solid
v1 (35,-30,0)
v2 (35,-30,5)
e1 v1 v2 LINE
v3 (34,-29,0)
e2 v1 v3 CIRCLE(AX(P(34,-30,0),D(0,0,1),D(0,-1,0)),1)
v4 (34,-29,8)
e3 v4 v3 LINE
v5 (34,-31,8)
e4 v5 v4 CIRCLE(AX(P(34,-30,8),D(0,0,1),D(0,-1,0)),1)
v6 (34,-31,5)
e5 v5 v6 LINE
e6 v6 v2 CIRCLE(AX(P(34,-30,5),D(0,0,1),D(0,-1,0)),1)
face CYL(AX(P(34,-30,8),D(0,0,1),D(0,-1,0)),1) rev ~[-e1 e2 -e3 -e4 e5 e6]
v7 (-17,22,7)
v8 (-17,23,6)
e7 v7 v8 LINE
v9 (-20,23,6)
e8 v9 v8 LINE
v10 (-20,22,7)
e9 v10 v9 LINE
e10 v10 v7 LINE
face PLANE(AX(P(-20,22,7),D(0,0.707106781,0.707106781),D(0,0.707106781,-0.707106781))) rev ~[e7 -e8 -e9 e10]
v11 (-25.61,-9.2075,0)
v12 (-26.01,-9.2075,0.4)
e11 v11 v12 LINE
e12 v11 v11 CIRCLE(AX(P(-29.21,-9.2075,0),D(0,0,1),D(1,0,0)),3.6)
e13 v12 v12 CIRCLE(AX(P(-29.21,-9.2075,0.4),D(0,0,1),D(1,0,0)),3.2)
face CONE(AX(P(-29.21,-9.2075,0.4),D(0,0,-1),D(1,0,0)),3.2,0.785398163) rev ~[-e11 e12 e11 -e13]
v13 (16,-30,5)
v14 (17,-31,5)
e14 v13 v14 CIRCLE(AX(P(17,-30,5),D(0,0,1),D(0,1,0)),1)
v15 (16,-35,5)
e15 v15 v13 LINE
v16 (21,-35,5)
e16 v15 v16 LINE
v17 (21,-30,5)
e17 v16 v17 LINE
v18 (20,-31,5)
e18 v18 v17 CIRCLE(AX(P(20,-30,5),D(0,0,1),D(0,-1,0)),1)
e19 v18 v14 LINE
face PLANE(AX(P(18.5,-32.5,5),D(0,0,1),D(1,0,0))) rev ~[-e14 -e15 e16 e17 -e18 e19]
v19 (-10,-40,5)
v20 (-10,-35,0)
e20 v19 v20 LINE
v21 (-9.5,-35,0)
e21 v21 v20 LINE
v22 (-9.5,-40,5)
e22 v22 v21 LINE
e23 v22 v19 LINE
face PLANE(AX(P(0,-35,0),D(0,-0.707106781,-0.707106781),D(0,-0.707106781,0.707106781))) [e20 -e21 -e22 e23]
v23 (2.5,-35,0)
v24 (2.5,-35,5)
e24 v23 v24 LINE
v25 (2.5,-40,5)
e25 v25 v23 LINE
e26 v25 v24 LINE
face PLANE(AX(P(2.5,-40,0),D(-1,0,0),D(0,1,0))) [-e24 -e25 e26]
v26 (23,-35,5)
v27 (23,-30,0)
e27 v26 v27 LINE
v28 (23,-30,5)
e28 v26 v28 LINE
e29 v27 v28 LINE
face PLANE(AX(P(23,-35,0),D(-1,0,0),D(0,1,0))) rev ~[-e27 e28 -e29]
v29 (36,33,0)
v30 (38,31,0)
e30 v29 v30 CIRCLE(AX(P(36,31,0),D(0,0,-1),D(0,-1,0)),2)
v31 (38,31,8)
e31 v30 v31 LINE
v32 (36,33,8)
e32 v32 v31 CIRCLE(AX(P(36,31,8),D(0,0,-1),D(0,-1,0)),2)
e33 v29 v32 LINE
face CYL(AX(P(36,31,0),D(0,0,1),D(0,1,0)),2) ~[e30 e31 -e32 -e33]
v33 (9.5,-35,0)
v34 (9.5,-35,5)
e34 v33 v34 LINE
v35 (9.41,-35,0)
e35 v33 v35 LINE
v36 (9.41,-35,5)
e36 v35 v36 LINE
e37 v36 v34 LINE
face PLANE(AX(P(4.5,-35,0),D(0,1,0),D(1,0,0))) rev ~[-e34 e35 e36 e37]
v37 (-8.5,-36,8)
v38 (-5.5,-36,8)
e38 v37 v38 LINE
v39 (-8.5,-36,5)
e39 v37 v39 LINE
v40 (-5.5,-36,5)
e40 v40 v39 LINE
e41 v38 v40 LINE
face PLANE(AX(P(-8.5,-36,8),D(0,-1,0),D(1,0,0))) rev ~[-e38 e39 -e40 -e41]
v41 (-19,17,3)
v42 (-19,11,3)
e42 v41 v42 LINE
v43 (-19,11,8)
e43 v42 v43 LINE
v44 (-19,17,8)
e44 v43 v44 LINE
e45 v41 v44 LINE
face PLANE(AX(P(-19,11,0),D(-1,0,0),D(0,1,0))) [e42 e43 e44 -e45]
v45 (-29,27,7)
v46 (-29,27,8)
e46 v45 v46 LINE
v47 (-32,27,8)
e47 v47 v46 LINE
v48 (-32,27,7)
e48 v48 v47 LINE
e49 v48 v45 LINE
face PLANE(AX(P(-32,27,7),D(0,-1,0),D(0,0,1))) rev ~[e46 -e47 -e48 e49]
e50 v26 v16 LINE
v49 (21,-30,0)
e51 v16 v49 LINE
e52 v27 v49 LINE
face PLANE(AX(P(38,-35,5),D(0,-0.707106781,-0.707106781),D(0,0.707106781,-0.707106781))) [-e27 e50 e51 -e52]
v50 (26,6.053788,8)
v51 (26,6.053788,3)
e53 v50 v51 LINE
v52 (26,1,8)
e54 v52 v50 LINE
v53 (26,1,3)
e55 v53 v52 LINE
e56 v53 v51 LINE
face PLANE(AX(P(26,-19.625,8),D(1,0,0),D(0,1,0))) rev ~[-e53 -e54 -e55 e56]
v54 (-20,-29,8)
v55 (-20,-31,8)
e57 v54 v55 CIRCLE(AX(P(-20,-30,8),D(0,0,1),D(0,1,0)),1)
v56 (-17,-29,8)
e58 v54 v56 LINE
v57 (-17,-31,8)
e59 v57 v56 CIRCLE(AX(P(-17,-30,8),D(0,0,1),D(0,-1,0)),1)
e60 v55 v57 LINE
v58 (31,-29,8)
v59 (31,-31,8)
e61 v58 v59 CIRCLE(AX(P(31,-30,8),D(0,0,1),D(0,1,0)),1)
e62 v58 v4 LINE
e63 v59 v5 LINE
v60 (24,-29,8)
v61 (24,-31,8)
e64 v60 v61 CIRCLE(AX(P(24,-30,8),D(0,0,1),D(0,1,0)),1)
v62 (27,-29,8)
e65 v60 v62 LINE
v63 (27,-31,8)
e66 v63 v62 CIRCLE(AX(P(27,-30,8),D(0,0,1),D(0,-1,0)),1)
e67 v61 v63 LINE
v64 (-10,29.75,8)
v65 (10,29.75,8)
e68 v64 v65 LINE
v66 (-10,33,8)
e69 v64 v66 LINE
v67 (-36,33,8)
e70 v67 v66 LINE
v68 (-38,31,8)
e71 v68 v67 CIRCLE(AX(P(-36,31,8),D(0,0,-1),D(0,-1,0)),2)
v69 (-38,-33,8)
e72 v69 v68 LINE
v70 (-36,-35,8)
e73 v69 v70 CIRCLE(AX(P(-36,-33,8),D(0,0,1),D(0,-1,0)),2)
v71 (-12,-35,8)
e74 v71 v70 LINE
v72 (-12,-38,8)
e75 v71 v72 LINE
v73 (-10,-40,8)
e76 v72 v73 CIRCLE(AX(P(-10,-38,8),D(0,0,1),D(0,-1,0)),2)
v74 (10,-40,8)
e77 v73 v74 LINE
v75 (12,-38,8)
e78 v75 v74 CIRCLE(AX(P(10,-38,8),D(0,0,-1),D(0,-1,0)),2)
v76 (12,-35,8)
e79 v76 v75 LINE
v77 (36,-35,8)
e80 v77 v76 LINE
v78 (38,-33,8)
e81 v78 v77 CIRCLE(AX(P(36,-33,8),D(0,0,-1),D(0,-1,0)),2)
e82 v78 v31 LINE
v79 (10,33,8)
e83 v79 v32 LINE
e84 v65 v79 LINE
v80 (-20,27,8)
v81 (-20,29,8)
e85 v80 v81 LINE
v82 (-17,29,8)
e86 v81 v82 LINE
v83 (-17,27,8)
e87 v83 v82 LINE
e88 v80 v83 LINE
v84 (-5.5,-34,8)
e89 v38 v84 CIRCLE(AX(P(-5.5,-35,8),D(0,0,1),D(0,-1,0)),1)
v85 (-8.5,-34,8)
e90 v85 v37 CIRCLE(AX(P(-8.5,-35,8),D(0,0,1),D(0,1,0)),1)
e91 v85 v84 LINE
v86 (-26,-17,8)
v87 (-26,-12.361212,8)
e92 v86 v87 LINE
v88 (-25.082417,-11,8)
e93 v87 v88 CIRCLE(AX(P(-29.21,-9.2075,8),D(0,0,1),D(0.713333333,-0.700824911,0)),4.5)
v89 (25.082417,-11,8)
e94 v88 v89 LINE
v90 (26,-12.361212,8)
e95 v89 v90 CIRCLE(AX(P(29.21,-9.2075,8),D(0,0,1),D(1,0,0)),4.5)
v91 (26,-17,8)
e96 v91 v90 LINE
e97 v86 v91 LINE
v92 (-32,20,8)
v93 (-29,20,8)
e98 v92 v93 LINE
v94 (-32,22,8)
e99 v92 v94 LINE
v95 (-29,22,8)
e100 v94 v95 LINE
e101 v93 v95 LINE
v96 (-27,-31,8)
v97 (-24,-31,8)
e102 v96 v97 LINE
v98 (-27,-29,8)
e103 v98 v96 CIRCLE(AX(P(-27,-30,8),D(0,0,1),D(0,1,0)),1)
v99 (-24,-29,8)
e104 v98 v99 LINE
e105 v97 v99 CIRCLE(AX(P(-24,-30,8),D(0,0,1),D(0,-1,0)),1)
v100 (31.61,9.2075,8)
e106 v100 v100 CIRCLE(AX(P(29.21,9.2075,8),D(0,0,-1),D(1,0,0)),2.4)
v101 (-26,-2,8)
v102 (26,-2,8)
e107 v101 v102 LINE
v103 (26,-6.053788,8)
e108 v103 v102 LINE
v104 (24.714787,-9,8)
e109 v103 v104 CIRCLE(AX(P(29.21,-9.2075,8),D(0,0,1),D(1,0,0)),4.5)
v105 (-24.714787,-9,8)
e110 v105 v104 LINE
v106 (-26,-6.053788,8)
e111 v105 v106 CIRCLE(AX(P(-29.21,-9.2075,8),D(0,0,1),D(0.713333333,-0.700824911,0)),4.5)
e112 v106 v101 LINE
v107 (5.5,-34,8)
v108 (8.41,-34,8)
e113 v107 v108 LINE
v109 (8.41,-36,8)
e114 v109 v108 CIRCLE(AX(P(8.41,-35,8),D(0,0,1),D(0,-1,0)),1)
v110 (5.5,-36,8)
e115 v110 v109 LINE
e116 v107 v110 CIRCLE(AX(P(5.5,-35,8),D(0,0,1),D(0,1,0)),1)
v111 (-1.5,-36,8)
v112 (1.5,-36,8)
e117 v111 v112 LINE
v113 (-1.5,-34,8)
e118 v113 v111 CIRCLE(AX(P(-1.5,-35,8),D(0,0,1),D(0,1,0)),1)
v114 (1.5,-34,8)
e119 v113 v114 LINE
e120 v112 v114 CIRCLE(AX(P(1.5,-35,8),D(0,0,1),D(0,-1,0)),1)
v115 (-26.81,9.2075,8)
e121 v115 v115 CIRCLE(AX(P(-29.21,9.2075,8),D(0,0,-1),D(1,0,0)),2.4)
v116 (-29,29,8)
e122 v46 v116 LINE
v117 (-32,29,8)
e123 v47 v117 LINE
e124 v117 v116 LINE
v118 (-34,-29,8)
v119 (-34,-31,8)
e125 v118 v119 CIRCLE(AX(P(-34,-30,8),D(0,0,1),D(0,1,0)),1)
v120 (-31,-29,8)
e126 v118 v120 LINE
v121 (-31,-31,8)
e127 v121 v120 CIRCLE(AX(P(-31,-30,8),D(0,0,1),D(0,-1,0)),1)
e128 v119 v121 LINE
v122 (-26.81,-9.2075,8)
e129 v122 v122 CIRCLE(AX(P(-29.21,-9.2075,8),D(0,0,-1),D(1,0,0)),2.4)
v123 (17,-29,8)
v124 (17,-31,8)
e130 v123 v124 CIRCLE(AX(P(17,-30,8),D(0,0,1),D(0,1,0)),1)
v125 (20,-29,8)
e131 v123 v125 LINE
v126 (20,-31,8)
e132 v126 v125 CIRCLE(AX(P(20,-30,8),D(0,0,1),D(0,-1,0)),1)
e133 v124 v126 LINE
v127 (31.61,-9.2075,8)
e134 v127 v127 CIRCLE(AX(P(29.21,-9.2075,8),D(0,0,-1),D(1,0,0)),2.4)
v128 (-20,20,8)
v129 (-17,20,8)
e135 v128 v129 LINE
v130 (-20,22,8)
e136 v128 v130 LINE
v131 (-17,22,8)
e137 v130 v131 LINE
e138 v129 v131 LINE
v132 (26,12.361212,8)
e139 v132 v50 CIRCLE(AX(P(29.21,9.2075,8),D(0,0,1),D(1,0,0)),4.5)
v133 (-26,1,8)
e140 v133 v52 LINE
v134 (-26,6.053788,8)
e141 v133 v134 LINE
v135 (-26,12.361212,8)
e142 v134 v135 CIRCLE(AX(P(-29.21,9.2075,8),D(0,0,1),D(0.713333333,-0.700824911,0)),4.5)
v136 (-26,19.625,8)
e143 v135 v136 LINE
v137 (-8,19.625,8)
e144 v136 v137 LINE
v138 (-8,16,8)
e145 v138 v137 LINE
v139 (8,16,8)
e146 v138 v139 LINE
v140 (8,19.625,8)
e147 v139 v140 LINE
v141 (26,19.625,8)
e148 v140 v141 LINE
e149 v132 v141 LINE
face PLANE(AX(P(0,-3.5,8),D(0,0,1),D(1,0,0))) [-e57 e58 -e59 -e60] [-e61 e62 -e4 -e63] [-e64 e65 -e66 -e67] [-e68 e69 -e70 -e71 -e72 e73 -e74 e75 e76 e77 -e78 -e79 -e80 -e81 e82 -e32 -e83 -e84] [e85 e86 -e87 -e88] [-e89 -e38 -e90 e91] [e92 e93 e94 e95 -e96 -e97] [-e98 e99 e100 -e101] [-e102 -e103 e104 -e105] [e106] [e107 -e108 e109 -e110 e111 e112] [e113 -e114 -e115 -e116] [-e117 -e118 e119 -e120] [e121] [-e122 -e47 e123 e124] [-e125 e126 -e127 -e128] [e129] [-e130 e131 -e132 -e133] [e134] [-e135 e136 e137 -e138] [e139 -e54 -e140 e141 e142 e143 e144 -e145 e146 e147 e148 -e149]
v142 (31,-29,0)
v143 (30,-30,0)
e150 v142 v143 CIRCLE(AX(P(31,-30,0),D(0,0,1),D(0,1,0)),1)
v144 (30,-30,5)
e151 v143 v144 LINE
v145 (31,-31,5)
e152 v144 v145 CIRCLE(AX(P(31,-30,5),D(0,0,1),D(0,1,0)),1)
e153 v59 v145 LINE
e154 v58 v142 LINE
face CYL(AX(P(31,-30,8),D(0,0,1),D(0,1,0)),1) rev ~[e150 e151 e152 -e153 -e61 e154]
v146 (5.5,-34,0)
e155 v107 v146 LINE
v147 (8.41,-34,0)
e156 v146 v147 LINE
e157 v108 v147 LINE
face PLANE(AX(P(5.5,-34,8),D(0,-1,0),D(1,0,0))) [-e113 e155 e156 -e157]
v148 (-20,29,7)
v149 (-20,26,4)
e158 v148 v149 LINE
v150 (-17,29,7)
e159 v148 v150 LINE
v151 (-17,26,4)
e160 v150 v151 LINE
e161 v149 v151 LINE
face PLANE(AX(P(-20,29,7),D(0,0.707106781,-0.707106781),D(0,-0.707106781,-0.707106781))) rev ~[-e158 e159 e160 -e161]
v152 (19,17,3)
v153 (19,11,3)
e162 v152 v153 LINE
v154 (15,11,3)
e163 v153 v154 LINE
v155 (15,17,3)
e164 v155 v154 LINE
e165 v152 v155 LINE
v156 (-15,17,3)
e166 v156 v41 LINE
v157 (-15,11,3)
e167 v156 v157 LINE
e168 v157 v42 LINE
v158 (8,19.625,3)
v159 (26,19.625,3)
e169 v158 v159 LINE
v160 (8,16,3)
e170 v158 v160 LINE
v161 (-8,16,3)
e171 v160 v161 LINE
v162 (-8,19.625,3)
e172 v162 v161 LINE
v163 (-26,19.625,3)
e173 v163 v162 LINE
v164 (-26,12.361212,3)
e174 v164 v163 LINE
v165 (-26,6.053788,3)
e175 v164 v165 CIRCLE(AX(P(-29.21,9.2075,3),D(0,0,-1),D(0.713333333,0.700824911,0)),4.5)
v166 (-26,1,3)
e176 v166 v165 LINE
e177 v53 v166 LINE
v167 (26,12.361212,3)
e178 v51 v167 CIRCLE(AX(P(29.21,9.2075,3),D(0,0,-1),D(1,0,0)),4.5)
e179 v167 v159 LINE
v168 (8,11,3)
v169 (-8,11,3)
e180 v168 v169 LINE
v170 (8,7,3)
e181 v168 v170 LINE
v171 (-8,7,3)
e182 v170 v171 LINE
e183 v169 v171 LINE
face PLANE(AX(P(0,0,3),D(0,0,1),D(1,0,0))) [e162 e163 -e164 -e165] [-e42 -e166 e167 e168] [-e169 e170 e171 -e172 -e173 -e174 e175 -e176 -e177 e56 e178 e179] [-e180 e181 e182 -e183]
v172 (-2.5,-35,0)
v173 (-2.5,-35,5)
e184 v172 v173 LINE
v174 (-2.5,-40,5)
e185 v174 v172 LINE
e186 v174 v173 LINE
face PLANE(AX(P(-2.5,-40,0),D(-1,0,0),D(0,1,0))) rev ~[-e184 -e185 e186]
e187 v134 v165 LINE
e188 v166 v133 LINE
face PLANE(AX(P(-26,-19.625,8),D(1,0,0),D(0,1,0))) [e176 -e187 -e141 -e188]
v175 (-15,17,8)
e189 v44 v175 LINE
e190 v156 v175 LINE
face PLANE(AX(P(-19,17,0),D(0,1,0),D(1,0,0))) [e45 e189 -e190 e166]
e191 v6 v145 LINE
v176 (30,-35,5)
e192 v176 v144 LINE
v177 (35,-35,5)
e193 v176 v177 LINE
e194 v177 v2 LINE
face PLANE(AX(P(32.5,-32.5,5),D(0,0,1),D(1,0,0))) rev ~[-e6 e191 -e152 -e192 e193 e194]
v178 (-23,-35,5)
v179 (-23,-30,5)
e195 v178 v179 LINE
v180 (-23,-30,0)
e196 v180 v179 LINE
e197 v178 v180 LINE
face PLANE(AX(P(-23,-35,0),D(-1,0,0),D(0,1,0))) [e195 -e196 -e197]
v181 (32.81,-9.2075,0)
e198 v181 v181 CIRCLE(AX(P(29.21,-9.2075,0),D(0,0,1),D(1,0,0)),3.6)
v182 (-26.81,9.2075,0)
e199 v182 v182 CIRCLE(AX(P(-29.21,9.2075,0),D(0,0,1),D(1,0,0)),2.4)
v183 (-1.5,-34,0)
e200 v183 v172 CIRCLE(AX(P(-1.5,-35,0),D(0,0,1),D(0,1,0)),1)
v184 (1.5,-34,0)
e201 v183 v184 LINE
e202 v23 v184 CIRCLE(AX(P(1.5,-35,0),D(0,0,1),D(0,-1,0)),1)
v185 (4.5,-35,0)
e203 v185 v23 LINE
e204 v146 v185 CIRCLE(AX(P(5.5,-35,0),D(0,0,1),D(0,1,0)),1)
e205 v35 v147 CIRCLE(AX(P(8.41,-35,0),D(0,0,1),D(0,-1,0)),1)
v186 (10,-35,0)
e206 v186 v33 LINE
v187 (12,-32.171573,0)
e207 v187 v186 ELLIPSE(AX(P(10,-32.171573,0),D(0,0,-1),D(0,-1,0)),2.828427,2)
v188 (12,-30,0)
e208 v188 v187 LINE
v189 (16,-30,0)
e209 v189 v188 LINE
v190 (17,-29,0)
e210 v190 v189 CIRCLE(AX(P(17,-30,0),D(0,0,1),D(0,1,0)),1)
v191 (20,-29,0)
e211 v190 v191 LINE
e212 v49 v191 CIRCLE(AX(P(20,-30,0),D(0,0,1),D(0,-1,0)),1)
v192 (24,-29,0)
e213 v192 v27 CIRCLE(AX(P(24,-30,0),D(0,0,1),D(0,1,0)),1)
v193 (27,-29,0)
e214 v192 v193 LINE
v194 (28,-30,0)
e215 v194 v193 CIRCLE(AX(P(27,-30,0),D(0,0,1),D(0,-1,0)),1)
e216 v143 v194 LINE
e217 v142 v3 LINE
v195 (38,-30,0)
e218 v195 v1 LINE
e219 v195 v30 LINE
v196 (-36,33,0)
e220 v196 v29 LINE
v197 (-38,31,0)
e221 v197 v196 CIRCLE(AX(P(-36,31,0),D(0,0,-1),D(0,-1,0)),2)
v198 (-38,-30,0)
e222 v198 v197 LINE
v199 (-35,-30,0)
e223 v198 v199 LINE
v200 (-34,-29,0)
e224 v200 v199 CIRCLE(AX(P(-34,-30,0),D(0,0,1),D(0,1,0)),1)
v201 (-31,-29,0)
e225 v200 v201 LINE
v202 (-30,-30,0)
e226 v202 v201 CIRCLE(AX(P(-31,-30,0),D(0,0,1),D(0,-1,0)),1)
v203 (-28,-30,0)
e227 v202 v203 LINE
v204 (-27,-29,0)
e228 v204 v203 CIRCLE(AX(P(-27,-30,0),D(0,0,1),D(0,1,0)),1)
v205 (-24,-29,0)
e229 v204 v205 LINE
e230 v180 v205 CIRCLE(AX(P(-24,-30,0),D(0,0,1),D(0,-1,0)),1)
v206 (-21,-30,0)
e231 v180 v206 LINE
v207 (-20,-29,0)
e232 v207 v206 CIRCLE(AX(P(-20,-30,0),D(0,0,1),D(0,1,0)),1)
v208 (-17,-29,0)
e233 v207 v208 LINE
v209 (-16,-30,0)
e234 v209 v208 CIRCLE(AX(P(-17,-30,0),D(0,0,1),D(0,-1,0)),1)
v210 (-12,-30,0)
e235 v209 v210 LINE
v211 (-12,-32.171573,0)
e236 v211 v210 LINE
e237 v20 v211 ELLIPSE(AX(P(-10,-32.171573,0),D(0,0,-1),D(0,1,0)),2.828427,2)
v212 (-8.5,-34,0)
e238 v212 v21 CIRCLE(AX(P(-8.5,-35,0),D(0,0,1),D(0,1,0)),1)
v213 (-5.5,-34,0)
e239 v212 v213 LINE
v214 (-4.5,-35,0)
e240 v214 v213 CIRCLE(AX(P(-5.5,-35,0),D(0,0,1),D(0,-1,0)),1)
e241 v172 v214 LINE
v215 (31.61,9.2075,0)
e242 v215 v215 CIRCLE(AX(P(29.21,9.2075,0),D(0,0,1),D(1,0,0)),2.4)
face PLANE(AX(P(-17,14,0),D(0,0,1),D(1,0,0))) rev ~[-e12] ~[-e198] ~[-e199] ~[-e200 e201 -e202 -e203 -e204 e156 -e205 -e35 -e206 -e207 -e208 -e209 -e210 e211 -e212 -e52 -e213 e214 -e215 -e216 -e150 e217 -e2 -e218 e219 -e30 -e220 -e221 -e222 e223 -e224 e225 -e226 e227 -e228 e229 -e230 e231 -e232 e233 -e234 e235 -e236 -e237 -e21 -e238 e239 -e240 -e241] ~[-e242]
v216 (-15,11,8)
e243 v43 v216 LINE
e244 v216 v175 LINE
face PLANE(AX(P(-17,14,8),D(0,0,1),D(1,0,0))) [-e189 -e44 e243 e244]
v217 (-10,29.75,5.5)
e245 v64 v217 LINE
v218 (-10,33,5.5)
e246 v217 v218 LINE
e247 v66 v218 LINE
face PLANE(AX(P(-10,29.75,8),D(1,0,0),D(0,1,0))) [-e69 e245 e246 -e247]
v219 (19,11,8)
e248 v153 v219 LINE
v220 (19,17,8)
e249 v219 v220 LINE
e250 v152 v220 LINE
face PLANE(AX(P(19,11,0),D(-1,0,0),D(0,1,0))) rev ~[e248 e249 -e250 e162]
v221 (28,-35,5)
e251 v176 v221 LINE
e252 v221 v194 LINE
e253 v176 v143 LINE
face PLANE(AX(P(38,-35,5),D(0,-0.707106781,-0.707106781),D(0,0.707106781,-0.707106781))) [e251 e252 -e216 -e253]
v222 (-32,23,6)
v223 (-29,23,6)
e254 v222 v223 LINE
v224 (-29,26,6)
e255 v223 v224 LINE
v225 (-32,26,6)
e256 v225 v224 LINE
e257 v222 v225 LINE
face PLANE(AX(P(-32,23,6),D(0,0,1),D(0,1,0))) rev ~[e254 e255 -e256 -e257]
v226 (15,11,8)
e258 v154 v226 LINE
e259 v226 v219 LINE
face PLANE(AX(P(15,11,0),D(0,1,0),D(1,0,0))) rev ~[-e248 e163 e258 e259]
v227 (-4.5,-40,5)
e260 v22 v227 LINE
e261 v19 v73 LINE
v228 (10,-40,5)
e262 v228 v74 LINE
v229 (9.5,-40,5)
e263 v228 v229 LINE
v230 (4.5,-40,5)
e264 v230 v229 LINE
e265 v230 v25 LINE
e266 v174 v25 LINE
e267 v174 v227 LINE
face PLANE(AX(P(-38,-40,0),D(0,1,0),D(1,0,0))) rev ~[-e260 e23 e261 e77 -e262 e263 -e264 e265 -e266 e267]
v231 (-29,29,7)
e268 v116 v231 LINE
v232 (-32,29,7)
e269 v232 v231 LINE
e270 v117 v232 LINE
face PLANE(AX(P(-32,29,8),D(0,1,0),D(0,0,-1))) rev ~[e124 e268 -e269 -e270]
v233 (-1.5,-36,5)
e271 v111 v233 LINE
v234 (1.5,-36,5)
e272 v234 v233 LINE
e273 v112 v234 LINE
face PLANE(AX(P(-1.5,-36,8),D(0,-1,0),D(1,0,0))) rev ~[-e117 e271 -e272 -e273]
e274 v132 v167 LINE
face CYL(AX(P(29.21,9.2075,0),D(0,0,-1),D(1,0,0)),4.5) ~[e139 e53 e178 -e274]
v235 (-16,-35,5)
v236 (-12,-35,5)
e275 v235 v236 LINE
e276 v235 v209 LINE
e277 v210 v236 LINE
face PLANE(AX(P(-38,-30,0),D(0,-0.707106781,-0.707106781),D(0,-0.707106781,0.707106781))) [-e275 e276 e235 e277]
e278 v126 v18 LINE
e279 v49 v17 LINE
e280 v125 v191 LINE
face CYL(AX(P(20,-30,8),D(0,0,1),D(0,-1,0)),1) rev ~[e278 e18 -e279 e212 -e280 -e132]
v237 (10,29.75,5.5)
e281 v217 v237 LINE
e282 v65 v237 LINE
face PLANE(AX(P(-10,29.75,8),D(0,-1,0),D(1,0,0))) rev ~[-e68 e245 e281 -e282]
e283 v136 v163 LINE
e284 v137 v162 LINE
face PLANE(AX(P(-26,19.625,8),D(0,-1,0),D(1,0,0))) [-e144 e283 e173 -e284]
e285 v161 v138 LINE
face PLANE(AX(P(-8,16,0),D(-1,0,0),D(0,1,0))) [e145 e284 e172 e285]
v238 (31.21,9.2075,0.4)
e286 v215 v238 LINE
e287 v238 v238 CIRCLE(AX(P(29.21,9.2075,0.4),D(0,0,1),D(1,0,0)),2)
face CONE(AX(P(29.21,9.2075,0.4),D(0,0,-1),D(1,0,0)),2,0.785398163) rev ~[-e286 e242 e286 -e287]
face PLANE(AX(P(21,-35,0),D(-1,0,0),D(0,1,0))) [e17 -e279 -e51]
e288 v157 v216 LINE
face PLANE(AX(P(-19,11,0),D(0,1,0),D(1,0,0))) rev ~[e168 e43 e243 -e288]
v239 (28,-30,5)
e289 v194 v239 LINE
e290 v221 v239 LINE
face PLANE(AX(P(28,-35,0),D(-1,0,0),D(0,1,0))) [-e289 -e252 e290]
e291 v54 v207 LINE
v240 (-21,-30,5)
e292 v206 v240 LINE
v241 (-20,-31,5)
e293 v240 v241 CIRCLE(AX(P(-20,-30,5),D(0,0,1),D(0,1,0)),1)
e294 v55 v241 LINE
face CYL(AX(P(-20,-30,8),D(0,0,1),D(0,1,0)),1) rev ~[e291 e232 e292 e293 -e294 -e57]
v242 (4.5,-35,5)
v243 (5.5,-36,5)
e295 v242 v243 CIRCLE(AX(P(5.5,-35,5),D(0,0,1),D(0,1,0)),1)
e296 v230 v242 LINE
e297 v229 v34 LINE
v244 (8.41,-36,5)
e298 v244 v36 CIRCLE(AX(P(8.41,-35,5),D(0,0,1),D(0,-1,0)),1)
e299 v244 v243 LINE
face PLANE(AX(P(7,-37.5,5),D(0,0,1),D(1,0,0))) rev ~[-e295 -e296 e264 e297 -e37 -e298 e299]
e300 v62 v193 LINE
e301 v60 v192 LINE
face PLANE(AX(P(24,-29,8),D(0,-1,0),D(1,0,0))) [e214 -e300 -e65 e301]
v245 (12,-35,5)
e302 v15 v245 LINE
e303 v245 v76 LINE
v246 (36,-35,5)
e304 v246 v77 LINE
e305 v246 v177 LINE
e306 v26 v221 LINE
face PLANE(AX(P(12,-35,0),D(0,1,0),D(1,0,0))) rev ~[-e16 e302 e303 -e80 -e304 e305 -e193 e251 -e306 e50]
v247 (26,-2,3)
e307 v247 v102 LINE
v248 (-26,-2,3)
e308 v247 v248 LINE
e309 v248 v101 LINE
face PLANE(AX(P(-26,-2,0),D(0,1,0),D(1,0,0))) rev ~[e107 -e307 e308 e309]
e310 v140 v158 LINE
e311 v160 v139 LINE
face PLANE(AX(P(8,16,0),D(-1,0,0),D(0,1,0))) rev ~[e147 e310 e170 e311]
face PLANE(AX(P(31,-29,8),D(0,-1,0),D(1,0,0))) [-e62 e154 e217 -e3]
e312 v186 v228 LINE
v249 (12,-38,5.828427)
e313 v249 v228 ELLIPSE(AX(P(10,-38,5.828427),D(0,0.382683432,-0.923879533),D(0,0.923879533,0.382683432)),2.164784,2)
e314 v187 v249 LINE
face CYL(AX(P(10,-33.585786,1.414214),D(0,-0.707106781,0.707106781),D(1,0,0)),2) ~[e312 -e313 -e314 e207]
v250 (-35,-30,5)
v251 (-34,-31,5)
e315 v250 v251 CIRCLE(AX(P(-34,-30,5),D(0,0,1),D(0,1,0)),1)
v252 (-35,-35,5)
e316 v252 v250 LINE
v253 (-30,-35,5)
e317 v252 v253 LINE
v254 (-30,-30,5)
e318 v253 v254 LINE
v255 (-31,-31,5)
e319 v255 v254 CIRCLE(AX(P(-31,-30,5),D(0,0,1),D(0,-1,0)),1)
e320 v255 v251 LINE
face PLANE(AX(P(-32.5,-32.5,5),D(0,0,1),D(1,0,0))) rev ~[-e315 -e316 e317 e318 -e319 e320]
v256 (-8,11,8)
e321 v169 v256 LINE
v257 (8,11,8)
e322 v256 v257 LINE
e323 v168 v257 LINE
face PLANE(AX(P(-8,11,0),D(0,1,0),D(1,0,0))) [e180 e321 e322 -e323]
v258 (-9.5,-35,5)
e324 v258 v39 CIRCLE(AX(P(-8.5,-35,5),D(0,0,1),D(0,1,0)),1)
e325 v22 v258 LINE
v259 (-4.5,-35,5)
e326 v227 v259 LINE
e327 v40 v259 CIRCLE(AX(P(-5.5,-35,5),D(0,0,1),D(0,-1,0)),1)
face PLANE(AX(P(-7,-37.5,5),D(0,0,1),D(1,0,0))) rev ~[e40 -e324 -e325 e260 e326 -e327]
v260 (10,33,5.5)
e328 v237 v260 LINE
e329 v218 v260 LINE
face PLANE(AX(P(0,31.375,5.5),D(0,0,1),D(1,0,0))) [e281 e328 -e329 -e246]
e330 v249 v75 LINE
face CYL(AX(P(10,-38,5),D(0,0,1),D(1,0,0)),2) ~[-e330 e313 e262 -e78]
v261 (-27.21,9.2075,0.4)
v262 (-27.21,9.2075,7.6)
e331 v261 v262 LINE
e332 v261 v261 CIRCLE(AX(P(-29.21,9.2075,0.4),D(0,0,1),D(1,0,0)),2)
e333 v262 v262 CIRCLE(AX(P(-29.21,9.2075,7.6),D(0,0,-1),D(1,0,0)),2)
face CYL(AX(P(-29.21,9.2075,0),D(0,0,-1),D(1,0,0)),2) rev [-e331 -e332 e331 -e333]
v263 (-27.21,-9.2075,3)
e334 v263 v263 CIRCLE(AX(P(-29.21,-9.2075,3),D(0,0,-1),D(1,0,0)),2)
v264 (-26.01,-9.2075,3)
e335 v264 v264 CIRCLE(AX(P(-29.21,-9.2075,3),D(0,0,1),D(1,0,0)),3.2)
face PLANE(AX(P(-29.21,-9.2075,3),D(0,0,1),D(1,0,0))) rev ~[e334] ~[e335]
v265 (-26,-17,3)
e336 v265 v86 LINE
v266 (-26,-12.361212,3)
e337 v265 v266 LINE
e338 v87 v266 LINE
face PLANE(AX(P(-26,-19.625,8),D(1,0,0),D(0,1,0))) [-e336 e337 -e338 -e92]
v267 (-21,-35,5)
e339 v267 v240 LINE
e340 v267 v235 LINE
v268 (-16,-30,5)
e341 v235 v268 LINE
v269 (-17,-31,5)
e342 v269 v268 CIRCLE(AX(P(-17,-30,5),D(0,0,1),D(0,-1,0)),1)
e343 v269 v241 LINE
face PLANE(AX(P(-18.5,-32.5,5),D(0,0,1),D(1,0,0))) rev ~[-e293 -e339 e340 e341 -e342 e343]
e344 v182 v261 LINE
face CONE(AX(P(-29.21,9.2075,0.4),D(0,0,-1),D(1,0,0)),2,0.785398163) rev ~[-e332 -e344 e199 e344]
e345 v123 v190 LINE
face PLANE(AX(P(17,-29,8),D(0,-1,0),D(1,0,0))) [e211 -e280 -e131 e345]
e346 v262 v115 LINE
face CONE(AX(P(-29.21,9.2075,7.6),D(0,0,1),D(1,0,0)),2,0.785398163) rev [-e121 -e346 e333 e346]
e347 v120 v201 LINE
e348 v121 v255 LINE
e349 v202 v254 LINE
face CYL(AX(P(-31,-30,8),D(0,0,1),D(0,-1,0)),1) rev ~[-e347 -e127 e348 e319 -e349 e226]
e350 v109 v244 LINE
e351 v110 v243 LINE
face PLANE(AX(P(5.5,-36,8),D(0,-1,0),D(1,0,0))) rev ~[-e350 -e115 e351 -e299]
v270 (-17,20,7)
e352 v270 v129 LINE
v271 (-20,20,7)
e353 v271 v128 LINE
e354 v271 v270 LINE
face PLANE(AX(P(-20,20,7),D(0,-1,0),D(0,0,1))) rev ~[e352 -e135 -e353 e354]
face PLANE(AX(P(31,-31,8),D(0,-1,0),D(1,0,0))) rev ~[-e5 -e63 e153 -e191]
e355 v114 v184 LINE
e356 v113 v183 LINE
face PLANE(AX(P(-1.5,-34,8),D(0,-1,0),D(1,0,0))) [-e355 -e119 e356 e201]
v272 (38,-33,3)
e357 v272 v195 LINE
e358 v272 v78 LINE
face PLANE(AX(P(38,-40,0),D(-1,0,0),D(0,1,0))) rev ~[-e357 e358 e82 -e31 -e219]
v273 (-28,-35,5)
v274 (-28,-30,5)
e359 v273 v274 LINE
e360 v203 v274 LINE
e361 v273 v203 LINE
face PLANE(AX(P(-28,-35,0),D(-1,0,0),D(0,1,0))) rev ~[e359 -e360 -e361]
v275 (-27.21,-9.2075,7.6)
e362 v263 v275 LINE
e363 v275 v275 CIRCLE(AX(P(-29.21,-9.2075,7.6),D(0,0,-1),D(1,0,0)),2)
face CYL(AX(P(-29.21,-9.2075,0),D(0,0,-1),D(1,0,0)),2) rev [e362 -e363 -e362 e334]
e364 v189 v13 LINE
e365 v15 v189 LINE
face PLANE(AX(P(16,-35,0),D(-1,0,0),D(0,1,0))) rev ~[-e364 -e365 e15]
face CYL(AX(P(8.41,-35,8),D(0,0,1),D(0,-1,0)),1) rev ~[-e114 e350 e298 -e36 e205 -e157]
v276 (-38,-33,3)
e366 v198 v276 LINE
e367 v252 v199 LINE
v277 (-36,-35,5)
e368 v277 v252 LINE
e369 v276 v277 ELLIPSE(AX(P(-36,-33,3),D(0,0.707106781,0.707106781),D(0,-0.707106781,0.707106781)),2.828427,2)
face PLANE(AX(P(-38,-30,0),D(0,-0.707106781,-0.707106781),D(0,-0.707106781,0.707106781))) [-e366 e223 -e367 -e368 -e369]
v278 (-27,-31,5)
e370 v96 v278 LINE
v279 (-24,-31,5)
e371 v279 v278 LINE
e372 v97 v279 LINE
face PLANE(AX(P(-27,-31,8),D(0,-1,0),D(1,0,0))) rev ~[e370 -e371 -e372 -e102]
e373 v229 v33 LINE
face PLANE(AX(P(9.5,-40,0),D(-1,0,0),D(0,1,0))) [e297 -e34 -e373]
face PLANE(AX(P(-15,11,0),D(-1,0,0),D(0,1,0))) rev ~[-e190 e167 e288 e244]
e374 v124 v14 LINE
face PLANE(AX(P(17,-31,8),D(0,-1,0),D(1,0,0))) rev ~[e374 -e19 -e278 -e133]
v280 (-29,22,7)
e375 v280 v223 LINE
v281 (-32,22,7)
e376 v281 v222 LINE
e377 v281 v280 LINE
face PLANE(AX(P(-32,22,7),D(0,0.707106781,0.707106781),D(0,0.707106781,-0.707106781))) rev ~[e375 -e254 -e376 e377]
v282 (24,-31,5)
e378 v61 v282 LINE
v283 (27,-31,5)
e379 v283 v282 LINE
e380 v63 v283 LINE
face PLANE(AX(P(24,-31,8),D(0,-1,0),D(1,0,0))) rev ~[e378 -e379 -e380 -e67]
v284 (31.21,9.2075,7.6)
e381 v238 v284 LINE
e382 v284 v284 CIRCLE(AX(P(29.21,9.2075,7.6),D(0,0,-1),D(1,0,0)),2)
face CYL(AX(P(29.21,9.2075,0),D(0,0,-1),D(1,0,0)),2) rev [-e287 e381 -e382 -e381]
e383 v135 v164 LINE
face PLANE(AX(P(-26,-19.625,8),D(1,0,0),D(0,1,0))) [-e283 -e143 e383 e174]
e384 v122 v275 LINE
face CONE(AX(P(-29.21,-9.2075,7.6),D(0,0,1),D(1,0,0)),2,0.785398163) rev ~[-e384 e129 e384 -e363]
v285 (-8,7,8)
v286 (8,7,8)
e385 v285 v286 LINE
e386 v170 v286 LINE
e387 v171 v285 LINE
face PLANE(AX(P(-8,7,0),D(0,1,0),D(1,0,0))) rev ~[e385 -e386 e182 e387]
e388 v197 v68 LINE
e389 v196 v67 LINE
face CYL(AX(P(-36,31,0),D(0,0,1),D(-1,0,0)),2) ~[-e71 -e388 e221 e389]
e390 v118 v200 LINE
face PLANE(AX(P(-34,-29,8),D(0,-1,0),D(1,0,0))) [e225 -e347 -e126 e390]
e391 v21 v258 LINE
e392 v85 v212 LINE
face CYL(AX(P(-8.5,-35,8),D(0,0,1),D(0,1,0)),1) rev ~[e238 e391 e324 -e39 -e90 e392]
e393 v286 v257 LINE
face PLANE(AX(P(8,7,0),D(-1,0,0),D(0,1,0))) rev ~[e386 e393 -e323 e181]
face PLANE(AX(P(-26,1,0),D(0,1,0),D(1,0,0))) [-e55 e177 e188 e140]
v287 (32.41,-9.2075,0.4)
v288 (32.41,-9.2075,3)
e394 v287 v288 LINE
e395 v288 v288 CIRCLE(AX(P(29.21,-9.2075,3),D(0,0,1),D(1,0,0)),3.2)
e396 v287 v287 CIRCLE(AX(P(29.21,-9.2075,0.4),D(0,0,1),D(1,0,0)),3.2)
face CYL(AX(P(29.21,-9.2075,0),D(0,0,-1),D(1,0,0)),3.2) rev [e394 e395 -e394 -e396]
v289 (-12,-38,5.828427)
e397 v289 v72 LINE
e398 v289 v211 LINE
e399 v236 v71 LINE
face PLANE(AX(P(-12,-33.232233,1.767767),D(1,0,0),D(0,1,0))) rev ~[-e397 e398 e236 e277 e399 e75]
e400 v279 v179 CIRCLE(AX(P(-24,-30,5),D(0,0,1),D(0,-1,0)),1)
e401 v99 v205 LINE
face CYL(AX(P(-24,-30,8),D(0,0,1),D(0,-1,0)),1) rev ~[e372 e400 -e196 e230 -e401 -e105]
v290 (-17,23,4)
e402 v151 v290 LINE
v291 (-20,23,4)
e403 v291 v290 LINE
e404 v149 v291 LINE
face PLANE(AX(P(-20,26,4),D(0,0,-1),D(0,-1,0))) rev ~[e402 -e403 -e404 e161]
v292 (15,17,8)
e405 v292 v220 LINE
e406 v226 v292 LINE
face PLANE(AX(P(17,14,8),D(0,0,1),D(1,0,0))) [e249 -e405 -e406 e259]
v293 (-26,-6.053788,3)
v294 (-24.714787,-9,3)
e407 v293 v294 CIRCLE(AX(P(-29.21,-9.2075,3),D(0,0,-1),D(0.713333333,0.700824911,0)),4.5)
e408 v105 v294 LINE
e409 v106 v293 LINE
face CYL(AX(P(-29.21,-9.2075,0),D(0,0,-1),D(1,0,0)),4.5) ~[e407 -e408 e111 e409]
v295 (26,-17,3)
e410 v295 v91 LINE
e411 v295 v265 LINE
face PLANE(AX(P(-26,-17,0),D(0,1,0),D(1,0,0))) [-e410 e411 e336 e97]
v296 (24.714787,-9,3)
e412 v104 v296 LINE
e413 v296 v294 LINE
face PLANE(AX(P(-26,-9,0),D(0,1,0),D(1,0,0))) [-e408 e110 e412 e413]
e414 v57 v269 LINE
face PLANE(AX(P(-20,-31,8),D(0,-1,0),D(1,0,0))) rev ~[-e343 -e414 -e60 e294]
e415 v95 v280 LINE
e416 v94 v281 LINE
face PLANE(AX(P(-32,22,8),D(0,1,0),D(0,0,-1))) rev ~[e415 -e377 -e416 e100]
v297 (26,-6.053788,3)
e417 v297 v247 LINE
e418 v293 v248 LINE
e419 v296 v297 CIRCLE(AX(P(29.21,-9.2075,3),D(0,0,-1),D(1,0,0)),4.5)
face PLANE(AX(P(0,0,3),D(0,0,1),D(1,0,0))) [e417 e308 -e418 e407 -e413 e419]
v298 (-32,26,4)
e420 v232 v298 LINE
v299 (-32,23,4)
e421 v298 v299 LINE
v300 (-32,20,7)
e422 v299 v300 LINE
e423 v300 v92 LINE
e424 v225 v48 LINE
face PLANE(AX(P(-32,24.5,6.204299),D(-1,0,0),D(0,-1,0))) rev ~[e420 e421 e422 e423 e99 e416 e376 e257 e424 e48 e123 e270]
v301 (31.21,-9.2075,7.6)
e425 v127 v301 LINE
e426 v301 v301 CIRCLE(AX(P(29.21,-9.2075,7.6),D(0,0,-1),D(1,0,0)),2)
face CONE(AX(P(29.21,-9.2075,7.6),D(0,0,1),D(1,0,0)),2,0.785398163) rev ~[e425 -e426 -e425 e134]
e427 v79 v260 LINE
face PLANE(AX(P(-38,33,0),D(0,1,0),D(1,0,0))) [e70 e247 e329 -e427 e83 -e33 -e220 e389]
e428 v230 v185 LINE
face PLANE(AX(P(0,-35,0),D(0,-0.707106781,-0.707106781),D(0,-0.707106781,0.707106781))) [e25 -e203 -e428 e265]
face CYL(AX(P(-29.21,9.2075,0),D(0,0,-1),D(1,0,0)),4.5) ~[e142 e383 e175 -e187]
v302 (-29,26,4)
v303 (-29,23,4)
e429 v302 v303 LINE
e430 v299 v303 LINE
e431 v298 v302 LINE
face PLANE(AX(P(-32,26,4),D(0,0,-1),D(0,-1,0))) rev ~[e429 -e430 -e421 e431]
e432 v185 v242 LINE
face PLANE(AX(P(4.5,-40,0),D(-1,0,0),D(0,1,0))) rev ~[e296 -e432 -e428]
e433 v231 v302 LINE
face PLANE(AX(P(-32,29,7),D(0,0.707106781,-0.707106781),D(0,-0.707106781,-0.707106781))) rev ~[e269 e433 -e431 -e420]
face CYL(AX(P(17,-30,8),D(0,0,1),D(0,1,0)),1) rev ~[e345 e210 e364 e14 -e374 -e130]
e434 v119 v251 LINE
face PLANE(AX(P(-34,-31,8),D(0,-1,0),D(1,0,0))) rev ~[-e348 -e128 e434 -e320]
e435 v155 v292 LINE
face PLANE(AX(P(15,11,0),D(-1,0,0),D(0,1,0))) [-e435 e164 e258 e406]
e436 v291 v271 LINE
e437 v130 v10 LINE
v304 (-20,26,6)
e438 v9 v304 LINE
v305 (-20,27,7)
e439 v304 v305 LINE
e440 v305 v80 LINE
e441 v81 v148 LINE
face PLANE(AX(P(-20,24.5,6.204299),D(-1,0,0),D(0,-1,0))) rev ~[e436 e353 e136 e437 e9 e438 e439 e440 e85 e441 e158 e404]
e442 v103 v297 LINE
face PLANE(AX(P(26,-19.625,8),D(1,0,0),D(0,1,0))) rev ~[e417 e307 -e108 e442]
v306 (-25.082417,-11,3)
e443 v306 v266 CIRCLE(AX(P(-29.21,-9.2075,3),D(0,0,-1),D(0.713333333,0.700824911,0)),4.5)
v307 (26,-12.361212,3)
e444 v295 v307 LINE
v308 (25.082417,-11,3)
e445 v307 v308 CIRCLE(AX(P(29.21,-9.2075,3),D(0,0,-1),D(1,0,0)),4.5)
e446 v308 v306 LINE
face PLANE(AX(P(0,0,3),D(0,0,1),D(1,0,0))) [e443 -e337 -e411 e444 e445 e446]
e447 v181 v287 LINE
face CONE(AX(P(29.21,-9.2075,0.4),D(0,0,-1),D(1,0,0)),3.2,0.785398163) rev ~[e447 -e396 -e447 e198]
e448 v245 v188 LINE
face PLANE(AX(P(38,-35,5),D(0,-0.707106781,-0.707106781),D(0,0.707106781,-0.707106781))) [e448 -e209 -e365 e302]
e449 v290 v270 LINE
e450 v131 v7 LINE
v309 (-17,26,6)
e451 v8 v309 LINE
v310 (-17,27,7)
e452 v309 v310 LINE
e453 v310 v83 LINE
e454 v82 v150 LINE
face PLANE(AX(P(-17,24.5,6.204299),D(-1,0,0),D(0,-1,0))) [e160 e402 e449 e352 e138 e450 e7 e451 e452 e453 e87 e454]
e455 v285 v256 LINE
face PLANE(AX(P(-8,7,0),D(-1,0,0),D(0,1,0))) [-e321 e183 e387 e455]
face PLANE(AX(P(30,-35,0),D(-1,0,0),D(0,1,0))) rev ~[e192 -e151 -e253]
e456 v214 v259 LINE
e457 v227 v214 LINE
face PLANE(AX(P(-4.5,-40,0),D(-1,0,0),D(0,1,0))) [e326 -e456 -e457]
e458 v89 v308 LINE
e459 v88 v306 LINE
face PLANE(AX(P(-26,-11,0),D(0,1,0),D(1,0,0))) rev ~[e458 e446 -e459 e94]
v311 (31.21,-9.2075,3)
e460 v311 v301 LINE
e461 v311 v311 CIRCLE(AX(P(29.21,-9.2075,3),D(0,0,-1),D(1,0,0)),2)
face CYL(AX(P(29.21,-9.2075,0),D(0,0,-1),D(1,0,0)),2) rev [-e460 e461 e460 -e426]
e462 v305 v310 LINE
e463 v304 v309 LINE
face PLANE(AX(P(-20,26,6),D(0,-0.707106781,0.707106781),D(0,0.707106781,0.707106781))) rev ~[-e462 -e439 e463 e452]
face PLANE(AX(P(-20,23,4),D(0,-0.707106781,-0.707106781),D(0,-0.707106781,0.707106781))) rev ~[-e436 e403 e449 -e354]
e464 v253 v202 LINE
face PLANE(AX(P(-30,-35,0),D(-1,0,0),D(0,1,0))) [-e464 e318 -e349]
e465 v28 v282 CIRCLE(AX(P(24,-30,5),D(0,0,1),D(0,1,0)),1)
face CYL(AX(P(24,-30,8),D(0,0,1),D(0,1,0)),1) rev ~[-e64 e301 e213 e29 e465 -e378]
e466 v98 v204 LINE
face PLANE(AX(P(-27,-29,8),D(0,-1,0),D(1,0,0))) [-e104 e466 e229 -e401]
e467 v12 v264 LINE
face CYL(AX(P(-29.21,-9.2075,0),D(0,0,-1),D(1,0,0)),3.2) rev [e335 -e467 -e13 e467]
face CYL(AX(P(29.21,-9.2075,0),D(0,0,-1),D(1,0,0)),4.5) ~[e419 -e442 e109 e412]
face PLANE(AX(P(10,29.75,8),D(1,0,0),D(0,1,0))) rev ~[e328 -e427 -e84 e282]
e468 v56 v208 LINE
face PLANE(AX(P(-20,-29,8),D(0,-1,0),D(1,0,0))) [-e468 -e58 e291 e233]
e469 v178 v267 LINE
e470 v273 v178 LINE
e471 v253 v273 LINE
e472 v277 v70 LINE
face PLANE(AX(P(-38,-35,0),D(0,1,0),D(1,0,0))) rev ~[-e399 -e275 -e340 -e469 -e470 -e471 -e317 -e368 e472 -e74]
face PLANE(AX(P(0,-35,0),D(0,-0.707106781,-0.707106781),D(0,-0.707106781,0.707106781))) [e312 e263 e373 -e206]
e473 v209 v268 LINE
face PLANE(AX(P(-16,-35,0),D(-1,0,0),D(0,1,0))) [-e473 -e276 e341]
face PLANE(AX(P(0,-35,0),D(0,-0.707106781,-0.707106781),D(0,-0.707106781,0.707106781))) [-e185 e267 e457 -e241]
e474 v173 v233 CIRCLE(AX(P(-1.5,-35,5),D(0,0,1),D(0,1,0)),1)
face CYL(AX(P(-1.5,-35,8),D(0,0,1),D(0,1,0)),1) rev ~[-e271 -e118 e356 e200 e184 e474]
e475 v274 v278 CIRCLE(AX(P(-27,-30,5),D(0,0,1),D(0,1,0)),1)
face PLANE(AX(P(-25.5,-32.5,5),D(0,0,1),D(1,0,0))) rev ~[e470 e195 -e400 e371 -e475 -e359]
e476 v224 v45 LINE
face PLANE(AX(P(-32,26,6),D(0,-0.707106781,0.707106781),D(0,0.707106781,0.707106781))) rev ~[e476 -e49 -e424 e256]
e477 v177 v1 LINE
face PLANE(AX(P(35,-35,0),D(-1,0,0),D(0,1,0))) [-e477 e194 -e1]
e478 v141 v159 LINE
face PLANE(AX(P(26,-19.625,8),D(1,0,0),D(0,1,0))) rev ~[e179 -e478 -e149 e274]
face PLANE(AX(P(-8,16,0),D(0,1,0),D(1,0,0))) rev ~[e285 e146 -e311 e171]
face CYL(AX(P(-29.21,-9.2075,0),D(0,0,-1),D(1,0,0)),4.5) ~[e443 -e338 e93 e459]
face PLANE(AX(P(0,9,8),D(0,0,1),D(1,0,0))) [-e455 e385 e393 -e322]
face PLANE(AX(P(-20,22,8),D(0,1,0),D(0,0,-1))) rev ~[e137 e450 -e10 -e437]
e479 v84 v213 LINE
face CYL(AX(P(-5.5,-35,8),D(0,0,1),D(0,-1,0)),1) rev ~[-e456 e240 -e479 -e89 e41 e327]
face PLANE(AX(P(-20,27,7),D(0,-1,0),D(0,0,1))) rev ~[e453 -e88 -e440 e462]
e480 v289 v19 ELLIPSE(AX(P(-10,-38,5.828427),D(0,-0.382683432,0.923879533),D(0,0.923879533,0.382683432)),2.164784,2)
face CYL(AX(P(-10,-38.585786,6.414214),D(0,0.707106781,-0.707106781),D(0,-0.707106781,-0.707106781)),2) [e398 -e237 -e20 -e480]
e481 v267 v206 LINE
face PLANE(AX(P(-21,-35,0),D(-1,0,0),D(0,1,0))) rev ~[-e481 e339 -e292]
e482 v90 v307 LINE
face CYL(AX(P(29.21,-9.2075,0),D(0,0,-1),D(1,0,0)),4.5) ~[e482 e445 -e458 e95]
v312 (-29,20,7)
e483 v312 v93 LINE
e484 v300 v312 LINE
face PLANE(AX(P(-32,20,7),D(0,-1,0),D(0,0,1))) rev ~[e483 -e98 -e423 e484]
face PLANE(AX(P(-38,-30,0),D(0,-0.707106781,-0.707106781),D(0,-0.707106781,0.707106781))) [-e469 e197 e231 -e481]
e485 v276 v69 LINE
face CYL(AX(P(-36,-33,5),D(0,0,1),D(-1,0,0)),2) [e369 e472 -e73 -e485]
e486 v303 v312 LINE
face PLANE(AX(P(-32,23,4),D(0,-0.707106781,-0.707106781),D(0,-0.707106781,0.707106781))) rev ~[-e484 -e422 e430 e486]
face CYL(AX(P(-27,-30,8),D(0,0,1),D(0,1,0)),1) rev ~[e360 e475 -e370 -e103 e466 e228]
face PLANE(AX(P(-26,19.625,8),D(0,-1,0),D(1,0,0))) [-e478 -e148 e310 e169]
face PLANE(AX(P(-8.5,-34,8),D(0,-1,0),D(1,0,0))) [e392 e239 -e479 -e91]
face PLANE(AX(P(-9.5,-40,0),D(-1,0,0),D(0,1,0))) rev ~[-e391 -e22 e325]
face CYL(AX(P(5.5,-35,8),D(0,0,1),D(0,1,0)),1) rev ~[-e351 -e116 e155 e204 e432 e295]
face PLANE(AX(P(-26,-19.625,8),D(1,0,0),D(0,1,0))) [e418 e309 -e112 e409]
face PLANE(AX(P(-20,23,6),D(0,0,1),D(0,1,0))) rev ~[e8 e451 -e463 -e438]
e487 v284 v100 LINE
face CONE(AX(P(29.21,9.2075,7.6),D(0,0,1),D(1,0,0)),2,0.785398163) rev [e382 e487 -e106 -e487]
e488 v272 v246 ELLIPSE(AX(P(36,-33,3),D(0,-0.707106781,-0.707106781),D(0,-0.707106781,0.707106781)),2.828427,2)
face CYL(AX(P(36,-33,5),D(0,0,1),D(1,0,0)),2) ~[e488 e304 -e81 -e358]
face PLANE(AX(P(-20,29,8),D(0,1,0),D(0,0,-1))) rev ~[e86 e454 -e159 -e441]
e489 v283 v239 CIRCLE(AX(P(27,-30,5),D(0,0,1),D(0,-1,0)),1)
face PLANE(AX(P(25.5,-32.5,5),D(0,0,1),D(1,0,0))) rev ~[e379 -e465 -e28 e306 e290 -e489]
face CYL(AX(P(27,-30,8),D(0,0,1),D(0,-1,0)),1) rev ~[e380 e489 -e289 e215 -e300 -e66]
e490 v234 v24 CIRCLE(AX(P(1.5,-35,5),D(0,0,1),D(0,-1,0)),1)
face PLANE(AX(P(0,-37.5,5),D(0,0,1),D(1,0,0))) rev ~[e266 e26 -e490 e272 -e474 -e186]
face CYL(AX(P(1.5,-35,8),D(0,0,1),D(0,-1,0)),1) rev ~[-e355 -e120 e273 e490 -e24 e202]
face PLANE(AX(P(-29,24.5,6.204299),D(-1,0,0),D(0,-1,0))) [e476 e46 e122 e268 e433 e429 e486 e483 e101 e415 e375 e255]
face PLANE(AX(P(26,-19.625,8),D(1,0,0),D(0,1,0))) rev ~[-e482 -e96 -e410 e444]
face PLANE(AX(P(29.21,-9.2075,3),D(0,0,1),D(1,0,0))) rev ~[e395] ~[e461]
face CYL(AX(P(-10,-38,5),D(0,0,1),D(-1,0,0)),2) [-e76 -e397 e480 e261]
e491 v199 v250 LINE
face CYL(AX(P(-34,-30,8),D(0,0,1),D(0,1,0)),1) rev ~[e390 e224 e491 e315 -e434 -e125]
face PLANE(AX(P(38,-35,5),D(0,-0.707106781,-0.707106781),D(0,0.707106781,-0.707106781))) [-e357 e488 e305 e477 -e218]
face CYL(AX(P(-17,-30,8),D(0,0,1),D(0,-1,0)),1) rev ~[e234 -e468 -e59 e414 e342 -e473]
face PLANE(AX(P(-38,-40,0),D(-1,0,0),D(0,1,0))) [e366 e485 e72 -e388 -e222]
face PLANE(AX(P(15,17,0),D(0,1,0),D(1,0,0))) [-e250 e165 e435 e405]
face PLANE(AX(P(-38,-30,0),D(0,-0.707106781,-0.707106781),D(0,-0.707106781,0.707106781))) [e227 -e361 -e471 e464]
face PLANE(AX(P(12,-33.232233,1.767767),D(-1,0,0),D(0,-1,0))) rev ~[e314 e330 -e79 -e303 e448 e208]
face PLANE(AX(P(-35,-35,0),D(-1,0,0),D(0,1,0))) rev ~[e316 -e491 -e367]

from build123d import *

# Parameters (mm, degrees)
SKETCH034_W              = 76
SKETCH034_H              = 73
PAD009_DEPTH             = 8
SKETCH035_W              = 52
SKETCH035_H              = 39.25
POCKET025_DEPTH          = 5
SKETCH036_R              = 4.5
PAD010_DEPTH             = 8
SKETCH037_R              = 2
POCKET026_DEPTH          = 8.001
SKETCH038_W              = 4
SKETCH038_H              = 6
SKETCH038_W_2            = 16
SKETCH038_H_2            = 4
SKETCH038_W_3            = 52
SKETCH038_H_3            = 3
SKETCH038_H_4            = 2
PAD011_DEPTH             = 8
SKETCH039_W              = 26
SKETCH039_H              = 5
POCKET027_DEPTH          = 8.001
SKETCH040_R              = 3.2
POCKET028_DEPTH          = 3
SKETCH047_W              = 20
SKETCH047_H              = 3.25
POCKET031_DEPTH          = 2.5
POCKET032_DEPTH          = 38.001
POCKET032_DEPTH_BACK     = 38.001
POCKET033_DEPTH          = 26
POCKET034_DEPTH          = 26
POCKET035_DEPTH          = 8.001
SKETCH052_W              = 5
SKETCH052_H              = 5
POCKET036_DEPTH          = 5
FILLET007013_R           = 2
CHAMFER013004014016_SIZE = 0.4
POCKET037_DEPTH          = 3
LINEARPATTERN_COUNT      = 2
LINEARPATTERN_PITCH      = 12


with BuildPart() as part:
    # Sketch034 → Pad009 (new body)
    with BuildSketch(Plane.XY):
        with Locations((0, -3.5)):
            Rectangle(SKETCH034_W, SKETCH034_H)
    extrude(amount=PAD009_DEPTH)

    # Sketch035 (on DatumPlane) → Pocket025 (cut)
    with BuildSketch(Plane.XY.offset(8)):
        Rectangle(SKETCH035_W, SKETCH035_H)
    extrude(amount=-POCKET025_DEPTH, mode=Mode.SUBTRACT)

    # Sketch036 (on DatumPlane) → Pad010 (join)
    with BuildSketch(Plane.XY):
        with Locations((-29.21, 9.2075)):
            Circle(SKETCH036_R)
        with Locations((-29.21, -9.2075)):
            Circle(SKETCH036_R)
        with Locations((29.21, 9.2075)):
            Circle(SKETCH036_R)
        with Locations((29.21, -9.2075)):
            Circle(SKETCH036_R)
    extrude(amount=PAD010_DEPTH)

    # Sketch037 (on DatumPlane) → Pocket026 (cut, through all)
    with BuildSketch(Plane.XY):
        with Locations((-29.21, 9.2075)):
            Circle(SKETCH037_R)
        with Locations((-29.21, -9.2075)):
            Circle(SKETCH037_R)
        with Locations((29.21, 9.2075)):
            Circle(SKETCH037_R)
        with Locations((29.21, -9.2075)):
            Circle(SKETCH037_R)
    extrude(amount=POCKET026_DEPTH, mode=Mode.SUBTRACT)

    # Sketch038 (on DatumPlane) → Pad011 (join)
    with BuildSketch(Plane.XY):
        with Locations((-17, 14)):
            Rectangle(SKETCH038_W, SKETCH038_H)
        with Locations((17, 14)):
            Rectangle(SKETCH038_W, SKETCH038_H)
        with Locations((0, 18)):
            Rectangle(SKETCH038_W_2, SKETCH038_H_2)
        with Locations((0, -0.5)):
            Rectangle(SKETCH038_W_3, SKETCH038_H_3)
        with Locations((0, -10)):
            Rectangle(SKETCH038_W_3, SKETCH038_H_4)
        with Locations((0, -18.5)):
            Rectangle(SKETCH038_W_3, SKETCH038_H_3)
        with Locations((0, 9)):
            Rectangle(SKETCH038_W_2, SKETCH038_H_2)
    extrude(amount=PAD011_DEPTH)

    # Sketch039 (on DatumPlane) → Pocket027 (cut, through all)
    with BuildSketch(Plane.XY):
        with Locations((-25, -37.5)):
            Rectangle(SKETCH039_W, SKETCH039_H)
        with Locations((25, -37.5)):
            Rectangle(SKETCH039_W, SKETCH039_H)
    extrude(amount=POCKET027_DEPTH, mode=Mode.SUBTRACT)

    # Sketch040 (on DatumPlane) → Pocket028 (cut)
    with BuildSketch(Plane.XY):
        with Locations((-29.21, -9.2075)):
            Circle(SKETCH040_R)
        with Locations((29.21, -9.2075)):
            Circle(SKETCH040_R)
    extrude(amount=POCKET028_DEPTH, mode=Mode.SUBTRACT)

    # Sketch047 (on DatumPlane) → Pocket031 (cut)
    with BuildSketch(Plane.XY.offset(8)):
        with Locations((0, 31.375)):
            Rectangle(SKETCH047_W, SKETCH047_H)
    extrude(amount=-POCKET031_DEPTH, mode=Mode.SUBTRACT)

    # Sketch048 (on DatumPlane) → Pocket032 (cut, two sides)
    with BuildSketch(Plane.YZ) as pocket032_sk:
        Polygon((-40, 5), (-40, 0), (-35, 0), align=None)
    extrude(amount=-POCKET032_DEPTH, mode=Mode.SUBTRACT)
    extrude(pocket032_sk.sketch, amount=POCKET032_DEPTH_BACK, mode=Mode.SUBTRACT)

    # Sketch049 (on DatumPlane) → Pocket033 (cut)
    with BuildSketch(Plane.YZ.offset(38)):
        Polygon((-35, 5), (-30, 0), (-35, 0), align=None)
    extrude(amount=-POCKET033_DEPTH, mode=Mode.SUBTRACT)

    # Sketch050 (on DatumPlane) → Pocket034 (cut)
    with BuildSketch(Plane.YZ.offset(-38)):
        Polygon((-35, 5), (-35, 0), (-30, 0), align=None)
    extrude(amount=POCKET034_DEPTH, mode=Mode.SUBTRACT)

    # Sketch051 (on DatumPlane) → Pocket035 (cut, through all)
    with BuildSketch(Plane.XY.offset(8)):
        with BuildLine():
            ThreePointArc((-34, -29), (-35, -30), (-34, -31))
            Line((-34, -31), (-31, -31))
            ThreePointArc((-31, -31), (-30, -30), (-31, -29))
            Line((-34, -29), (-31, -29))
        make_face()
        with BuildLine():
            ThreePointArc((-27, -29), (-28, -30), (-27, -31))
            Line((-27, -31), (-24, -31))
            ThreePointArc((-24, -31), (-23, -30), (-24, -29))
            Line((-27, -29), (-24, -29))
        make_face()
        with BuildLine():
            ThreePointArc((-20, -29), (-21, -30), (-20, -31))
            Line((-20, -31), (-17, -31))
            ThreePointArc((-17, -31), (-16, -30), (-17, -29))
            Line((-20, -29), (-17, -29))
        make_face()
        with BuildLine():
            ThreePointArc((17, -29), (16, -30), (17, -31))
            Line((17, -31), (20, -31))
            ThreePointArc((20, -31), (21, -30), (20, -29))
            Line((17, -29), (20, -29))
        make_face()
        with BuildLine():
            ThreePointArc((24, -29), (23, -30), (24, -31))
            Line((24, -31), (27, -31))
            ThreePointArc((27, -31), (28, -30), (27, -29))
            Line((24, -29), (27, -29))
        make_face()
        with BuildLine():
            ThreePointArc((31, -29), (30, -30), (31, -31))
            Line((31, -31), (34, -31))
            ThreePointArc((34, -31), (35, -30), (34, -29))
            Line((31, -29), (34, -29))
        make_face()
        with BuildLine():
            ThreePointArc((-8.5, -34), (-9.5, -35), (-8.5, -36))
            Line((-8.5, -36), (-5.5, -36))
            ThreePointArc((-5.5, -36), (-4.5, -35), (-5.5, -34))
            Line((-8.5, -34), (-5.5, -34))
        make_face()
        with BuildLine():
            ThreePointArc((-1.5, -34), (-2.5, -35), (-1.5, -36))
            Line((-1.5, -36), (1.5, -36))
            ThreePointArc((1.5, -36), (2.5, -35), (1.5, -34))
            Line((-1.5, -34), (1.5, -34))
        make_face()
        with BuildLine():
            ThreePointArc((5.5, -34), (4.5, -35), (5.5, -36))
            Line((5.5, -36), (8.41, -36))
            ThreePointArc((8.41, -36), (9.41, -35), (8.41, -34))
            Line((5.5, -34), (8.41, -34))
        make_face()
    extrude(amount=-POCKET035_DEPTH, mode=Mode.SUBTRACT)

    # Sketch052 (on DatumPlane) → Pocket036 (cut)
    with BuildSketch(Plane.XY):
        with Locations((-32.5, -32.5)):
            Rectangle(SKETCH052_W, SKETCH052_H)
        with Locations((-25.5, -32.5)):
            Rectangle(SKETCH052_W, SKETCH052_H)
        with Locations((-18.5, -32.5)):
            Rectangle(SKETCH052_W, SKETCH052_H)
        with Locations((-7, -37.5)):
            Rectangle(SKETCH052_W, SKETCH052_H)
        with Locations((0, -37.5)):
            Rectangle(SKETCH052_W, SKETCH052_H)
        with Locations((7, -37.5)):
            Rectangle(SKETCH052_W, SKETCH052_H)
        with Locations((18.5, -32.5)):
            Rectangle(SKETCH052_W, SKETCH052_H)
        with Locations((25.5, -32.5)):
            Rectangle(SKETCH052_W, SKETCH052_H)
        with Locations((32.5, -32.5)):
            Rectangle(SKETCH052_W, SKETCH052_H)
    extrude(amount=POCKET036_DEPTH, mode=Mode.SUBTRACT)

    # Fillet007013
    fillet007013_edges = [part.edges().sort_by_distance(p)[0] for p in [
        (-38, 33, 4),
        (-38, -35, 6.5),
        (-12, -40, 6.5),
        (12, -40, 6.5),
        (38, -35, 6.5),
        (38, 33, 4),
        (-12, -37.5, 2.5),
        (12, -37.5, 2.5),
    ]]
    fillet(fillet007013_edges, radius=FILLET007013_R)

    # Chamfer013004014016
    chamfer013004014016_edges = [part.edges().sort_by_distance(p)[0] for p in [
        (-31.21, 9.2075, 0),
        (-32.41, -9.2075, 0),
        (27.21, 9.2075, 0),
        (26.01, -9.2075, 0),
        (-31.21, 9.2075, 8),
        (-31.21, -9.2075, 8),
        (27.21, 9.2075, 8),
        (27.21, -9.2075, 8),
    ]]
    chamfer(chamfer013004014016_edges, length=CHAMFER013004014016_SIZE)

    # Sketch053 (on DatumPlane) → Pocket037 (cut)
    with BuildSketch(Plane.YZ.offset(-32)):
        Polygon((22, 8), (22, 7), (23, 6), (26, 6), (27, 7), (27, 8), (29, 8), (29, 7), (26, 4), (23, 4), (20, 7), (20, 8), align=None)
    pocket037 = extrude(amount=POCKET037_DEPTH, mode=Mode.SUBTRACT)

    # LinearPattern: Pocket037 ×2
    with Locations(*[(i * LINEARPATTERN_PITCH, 0, 0) for i in range(1, LINEARPATTERN_COUNT)]):
        add(pocket037, mode=Mode.SUBTRACT)


solid = part.part
